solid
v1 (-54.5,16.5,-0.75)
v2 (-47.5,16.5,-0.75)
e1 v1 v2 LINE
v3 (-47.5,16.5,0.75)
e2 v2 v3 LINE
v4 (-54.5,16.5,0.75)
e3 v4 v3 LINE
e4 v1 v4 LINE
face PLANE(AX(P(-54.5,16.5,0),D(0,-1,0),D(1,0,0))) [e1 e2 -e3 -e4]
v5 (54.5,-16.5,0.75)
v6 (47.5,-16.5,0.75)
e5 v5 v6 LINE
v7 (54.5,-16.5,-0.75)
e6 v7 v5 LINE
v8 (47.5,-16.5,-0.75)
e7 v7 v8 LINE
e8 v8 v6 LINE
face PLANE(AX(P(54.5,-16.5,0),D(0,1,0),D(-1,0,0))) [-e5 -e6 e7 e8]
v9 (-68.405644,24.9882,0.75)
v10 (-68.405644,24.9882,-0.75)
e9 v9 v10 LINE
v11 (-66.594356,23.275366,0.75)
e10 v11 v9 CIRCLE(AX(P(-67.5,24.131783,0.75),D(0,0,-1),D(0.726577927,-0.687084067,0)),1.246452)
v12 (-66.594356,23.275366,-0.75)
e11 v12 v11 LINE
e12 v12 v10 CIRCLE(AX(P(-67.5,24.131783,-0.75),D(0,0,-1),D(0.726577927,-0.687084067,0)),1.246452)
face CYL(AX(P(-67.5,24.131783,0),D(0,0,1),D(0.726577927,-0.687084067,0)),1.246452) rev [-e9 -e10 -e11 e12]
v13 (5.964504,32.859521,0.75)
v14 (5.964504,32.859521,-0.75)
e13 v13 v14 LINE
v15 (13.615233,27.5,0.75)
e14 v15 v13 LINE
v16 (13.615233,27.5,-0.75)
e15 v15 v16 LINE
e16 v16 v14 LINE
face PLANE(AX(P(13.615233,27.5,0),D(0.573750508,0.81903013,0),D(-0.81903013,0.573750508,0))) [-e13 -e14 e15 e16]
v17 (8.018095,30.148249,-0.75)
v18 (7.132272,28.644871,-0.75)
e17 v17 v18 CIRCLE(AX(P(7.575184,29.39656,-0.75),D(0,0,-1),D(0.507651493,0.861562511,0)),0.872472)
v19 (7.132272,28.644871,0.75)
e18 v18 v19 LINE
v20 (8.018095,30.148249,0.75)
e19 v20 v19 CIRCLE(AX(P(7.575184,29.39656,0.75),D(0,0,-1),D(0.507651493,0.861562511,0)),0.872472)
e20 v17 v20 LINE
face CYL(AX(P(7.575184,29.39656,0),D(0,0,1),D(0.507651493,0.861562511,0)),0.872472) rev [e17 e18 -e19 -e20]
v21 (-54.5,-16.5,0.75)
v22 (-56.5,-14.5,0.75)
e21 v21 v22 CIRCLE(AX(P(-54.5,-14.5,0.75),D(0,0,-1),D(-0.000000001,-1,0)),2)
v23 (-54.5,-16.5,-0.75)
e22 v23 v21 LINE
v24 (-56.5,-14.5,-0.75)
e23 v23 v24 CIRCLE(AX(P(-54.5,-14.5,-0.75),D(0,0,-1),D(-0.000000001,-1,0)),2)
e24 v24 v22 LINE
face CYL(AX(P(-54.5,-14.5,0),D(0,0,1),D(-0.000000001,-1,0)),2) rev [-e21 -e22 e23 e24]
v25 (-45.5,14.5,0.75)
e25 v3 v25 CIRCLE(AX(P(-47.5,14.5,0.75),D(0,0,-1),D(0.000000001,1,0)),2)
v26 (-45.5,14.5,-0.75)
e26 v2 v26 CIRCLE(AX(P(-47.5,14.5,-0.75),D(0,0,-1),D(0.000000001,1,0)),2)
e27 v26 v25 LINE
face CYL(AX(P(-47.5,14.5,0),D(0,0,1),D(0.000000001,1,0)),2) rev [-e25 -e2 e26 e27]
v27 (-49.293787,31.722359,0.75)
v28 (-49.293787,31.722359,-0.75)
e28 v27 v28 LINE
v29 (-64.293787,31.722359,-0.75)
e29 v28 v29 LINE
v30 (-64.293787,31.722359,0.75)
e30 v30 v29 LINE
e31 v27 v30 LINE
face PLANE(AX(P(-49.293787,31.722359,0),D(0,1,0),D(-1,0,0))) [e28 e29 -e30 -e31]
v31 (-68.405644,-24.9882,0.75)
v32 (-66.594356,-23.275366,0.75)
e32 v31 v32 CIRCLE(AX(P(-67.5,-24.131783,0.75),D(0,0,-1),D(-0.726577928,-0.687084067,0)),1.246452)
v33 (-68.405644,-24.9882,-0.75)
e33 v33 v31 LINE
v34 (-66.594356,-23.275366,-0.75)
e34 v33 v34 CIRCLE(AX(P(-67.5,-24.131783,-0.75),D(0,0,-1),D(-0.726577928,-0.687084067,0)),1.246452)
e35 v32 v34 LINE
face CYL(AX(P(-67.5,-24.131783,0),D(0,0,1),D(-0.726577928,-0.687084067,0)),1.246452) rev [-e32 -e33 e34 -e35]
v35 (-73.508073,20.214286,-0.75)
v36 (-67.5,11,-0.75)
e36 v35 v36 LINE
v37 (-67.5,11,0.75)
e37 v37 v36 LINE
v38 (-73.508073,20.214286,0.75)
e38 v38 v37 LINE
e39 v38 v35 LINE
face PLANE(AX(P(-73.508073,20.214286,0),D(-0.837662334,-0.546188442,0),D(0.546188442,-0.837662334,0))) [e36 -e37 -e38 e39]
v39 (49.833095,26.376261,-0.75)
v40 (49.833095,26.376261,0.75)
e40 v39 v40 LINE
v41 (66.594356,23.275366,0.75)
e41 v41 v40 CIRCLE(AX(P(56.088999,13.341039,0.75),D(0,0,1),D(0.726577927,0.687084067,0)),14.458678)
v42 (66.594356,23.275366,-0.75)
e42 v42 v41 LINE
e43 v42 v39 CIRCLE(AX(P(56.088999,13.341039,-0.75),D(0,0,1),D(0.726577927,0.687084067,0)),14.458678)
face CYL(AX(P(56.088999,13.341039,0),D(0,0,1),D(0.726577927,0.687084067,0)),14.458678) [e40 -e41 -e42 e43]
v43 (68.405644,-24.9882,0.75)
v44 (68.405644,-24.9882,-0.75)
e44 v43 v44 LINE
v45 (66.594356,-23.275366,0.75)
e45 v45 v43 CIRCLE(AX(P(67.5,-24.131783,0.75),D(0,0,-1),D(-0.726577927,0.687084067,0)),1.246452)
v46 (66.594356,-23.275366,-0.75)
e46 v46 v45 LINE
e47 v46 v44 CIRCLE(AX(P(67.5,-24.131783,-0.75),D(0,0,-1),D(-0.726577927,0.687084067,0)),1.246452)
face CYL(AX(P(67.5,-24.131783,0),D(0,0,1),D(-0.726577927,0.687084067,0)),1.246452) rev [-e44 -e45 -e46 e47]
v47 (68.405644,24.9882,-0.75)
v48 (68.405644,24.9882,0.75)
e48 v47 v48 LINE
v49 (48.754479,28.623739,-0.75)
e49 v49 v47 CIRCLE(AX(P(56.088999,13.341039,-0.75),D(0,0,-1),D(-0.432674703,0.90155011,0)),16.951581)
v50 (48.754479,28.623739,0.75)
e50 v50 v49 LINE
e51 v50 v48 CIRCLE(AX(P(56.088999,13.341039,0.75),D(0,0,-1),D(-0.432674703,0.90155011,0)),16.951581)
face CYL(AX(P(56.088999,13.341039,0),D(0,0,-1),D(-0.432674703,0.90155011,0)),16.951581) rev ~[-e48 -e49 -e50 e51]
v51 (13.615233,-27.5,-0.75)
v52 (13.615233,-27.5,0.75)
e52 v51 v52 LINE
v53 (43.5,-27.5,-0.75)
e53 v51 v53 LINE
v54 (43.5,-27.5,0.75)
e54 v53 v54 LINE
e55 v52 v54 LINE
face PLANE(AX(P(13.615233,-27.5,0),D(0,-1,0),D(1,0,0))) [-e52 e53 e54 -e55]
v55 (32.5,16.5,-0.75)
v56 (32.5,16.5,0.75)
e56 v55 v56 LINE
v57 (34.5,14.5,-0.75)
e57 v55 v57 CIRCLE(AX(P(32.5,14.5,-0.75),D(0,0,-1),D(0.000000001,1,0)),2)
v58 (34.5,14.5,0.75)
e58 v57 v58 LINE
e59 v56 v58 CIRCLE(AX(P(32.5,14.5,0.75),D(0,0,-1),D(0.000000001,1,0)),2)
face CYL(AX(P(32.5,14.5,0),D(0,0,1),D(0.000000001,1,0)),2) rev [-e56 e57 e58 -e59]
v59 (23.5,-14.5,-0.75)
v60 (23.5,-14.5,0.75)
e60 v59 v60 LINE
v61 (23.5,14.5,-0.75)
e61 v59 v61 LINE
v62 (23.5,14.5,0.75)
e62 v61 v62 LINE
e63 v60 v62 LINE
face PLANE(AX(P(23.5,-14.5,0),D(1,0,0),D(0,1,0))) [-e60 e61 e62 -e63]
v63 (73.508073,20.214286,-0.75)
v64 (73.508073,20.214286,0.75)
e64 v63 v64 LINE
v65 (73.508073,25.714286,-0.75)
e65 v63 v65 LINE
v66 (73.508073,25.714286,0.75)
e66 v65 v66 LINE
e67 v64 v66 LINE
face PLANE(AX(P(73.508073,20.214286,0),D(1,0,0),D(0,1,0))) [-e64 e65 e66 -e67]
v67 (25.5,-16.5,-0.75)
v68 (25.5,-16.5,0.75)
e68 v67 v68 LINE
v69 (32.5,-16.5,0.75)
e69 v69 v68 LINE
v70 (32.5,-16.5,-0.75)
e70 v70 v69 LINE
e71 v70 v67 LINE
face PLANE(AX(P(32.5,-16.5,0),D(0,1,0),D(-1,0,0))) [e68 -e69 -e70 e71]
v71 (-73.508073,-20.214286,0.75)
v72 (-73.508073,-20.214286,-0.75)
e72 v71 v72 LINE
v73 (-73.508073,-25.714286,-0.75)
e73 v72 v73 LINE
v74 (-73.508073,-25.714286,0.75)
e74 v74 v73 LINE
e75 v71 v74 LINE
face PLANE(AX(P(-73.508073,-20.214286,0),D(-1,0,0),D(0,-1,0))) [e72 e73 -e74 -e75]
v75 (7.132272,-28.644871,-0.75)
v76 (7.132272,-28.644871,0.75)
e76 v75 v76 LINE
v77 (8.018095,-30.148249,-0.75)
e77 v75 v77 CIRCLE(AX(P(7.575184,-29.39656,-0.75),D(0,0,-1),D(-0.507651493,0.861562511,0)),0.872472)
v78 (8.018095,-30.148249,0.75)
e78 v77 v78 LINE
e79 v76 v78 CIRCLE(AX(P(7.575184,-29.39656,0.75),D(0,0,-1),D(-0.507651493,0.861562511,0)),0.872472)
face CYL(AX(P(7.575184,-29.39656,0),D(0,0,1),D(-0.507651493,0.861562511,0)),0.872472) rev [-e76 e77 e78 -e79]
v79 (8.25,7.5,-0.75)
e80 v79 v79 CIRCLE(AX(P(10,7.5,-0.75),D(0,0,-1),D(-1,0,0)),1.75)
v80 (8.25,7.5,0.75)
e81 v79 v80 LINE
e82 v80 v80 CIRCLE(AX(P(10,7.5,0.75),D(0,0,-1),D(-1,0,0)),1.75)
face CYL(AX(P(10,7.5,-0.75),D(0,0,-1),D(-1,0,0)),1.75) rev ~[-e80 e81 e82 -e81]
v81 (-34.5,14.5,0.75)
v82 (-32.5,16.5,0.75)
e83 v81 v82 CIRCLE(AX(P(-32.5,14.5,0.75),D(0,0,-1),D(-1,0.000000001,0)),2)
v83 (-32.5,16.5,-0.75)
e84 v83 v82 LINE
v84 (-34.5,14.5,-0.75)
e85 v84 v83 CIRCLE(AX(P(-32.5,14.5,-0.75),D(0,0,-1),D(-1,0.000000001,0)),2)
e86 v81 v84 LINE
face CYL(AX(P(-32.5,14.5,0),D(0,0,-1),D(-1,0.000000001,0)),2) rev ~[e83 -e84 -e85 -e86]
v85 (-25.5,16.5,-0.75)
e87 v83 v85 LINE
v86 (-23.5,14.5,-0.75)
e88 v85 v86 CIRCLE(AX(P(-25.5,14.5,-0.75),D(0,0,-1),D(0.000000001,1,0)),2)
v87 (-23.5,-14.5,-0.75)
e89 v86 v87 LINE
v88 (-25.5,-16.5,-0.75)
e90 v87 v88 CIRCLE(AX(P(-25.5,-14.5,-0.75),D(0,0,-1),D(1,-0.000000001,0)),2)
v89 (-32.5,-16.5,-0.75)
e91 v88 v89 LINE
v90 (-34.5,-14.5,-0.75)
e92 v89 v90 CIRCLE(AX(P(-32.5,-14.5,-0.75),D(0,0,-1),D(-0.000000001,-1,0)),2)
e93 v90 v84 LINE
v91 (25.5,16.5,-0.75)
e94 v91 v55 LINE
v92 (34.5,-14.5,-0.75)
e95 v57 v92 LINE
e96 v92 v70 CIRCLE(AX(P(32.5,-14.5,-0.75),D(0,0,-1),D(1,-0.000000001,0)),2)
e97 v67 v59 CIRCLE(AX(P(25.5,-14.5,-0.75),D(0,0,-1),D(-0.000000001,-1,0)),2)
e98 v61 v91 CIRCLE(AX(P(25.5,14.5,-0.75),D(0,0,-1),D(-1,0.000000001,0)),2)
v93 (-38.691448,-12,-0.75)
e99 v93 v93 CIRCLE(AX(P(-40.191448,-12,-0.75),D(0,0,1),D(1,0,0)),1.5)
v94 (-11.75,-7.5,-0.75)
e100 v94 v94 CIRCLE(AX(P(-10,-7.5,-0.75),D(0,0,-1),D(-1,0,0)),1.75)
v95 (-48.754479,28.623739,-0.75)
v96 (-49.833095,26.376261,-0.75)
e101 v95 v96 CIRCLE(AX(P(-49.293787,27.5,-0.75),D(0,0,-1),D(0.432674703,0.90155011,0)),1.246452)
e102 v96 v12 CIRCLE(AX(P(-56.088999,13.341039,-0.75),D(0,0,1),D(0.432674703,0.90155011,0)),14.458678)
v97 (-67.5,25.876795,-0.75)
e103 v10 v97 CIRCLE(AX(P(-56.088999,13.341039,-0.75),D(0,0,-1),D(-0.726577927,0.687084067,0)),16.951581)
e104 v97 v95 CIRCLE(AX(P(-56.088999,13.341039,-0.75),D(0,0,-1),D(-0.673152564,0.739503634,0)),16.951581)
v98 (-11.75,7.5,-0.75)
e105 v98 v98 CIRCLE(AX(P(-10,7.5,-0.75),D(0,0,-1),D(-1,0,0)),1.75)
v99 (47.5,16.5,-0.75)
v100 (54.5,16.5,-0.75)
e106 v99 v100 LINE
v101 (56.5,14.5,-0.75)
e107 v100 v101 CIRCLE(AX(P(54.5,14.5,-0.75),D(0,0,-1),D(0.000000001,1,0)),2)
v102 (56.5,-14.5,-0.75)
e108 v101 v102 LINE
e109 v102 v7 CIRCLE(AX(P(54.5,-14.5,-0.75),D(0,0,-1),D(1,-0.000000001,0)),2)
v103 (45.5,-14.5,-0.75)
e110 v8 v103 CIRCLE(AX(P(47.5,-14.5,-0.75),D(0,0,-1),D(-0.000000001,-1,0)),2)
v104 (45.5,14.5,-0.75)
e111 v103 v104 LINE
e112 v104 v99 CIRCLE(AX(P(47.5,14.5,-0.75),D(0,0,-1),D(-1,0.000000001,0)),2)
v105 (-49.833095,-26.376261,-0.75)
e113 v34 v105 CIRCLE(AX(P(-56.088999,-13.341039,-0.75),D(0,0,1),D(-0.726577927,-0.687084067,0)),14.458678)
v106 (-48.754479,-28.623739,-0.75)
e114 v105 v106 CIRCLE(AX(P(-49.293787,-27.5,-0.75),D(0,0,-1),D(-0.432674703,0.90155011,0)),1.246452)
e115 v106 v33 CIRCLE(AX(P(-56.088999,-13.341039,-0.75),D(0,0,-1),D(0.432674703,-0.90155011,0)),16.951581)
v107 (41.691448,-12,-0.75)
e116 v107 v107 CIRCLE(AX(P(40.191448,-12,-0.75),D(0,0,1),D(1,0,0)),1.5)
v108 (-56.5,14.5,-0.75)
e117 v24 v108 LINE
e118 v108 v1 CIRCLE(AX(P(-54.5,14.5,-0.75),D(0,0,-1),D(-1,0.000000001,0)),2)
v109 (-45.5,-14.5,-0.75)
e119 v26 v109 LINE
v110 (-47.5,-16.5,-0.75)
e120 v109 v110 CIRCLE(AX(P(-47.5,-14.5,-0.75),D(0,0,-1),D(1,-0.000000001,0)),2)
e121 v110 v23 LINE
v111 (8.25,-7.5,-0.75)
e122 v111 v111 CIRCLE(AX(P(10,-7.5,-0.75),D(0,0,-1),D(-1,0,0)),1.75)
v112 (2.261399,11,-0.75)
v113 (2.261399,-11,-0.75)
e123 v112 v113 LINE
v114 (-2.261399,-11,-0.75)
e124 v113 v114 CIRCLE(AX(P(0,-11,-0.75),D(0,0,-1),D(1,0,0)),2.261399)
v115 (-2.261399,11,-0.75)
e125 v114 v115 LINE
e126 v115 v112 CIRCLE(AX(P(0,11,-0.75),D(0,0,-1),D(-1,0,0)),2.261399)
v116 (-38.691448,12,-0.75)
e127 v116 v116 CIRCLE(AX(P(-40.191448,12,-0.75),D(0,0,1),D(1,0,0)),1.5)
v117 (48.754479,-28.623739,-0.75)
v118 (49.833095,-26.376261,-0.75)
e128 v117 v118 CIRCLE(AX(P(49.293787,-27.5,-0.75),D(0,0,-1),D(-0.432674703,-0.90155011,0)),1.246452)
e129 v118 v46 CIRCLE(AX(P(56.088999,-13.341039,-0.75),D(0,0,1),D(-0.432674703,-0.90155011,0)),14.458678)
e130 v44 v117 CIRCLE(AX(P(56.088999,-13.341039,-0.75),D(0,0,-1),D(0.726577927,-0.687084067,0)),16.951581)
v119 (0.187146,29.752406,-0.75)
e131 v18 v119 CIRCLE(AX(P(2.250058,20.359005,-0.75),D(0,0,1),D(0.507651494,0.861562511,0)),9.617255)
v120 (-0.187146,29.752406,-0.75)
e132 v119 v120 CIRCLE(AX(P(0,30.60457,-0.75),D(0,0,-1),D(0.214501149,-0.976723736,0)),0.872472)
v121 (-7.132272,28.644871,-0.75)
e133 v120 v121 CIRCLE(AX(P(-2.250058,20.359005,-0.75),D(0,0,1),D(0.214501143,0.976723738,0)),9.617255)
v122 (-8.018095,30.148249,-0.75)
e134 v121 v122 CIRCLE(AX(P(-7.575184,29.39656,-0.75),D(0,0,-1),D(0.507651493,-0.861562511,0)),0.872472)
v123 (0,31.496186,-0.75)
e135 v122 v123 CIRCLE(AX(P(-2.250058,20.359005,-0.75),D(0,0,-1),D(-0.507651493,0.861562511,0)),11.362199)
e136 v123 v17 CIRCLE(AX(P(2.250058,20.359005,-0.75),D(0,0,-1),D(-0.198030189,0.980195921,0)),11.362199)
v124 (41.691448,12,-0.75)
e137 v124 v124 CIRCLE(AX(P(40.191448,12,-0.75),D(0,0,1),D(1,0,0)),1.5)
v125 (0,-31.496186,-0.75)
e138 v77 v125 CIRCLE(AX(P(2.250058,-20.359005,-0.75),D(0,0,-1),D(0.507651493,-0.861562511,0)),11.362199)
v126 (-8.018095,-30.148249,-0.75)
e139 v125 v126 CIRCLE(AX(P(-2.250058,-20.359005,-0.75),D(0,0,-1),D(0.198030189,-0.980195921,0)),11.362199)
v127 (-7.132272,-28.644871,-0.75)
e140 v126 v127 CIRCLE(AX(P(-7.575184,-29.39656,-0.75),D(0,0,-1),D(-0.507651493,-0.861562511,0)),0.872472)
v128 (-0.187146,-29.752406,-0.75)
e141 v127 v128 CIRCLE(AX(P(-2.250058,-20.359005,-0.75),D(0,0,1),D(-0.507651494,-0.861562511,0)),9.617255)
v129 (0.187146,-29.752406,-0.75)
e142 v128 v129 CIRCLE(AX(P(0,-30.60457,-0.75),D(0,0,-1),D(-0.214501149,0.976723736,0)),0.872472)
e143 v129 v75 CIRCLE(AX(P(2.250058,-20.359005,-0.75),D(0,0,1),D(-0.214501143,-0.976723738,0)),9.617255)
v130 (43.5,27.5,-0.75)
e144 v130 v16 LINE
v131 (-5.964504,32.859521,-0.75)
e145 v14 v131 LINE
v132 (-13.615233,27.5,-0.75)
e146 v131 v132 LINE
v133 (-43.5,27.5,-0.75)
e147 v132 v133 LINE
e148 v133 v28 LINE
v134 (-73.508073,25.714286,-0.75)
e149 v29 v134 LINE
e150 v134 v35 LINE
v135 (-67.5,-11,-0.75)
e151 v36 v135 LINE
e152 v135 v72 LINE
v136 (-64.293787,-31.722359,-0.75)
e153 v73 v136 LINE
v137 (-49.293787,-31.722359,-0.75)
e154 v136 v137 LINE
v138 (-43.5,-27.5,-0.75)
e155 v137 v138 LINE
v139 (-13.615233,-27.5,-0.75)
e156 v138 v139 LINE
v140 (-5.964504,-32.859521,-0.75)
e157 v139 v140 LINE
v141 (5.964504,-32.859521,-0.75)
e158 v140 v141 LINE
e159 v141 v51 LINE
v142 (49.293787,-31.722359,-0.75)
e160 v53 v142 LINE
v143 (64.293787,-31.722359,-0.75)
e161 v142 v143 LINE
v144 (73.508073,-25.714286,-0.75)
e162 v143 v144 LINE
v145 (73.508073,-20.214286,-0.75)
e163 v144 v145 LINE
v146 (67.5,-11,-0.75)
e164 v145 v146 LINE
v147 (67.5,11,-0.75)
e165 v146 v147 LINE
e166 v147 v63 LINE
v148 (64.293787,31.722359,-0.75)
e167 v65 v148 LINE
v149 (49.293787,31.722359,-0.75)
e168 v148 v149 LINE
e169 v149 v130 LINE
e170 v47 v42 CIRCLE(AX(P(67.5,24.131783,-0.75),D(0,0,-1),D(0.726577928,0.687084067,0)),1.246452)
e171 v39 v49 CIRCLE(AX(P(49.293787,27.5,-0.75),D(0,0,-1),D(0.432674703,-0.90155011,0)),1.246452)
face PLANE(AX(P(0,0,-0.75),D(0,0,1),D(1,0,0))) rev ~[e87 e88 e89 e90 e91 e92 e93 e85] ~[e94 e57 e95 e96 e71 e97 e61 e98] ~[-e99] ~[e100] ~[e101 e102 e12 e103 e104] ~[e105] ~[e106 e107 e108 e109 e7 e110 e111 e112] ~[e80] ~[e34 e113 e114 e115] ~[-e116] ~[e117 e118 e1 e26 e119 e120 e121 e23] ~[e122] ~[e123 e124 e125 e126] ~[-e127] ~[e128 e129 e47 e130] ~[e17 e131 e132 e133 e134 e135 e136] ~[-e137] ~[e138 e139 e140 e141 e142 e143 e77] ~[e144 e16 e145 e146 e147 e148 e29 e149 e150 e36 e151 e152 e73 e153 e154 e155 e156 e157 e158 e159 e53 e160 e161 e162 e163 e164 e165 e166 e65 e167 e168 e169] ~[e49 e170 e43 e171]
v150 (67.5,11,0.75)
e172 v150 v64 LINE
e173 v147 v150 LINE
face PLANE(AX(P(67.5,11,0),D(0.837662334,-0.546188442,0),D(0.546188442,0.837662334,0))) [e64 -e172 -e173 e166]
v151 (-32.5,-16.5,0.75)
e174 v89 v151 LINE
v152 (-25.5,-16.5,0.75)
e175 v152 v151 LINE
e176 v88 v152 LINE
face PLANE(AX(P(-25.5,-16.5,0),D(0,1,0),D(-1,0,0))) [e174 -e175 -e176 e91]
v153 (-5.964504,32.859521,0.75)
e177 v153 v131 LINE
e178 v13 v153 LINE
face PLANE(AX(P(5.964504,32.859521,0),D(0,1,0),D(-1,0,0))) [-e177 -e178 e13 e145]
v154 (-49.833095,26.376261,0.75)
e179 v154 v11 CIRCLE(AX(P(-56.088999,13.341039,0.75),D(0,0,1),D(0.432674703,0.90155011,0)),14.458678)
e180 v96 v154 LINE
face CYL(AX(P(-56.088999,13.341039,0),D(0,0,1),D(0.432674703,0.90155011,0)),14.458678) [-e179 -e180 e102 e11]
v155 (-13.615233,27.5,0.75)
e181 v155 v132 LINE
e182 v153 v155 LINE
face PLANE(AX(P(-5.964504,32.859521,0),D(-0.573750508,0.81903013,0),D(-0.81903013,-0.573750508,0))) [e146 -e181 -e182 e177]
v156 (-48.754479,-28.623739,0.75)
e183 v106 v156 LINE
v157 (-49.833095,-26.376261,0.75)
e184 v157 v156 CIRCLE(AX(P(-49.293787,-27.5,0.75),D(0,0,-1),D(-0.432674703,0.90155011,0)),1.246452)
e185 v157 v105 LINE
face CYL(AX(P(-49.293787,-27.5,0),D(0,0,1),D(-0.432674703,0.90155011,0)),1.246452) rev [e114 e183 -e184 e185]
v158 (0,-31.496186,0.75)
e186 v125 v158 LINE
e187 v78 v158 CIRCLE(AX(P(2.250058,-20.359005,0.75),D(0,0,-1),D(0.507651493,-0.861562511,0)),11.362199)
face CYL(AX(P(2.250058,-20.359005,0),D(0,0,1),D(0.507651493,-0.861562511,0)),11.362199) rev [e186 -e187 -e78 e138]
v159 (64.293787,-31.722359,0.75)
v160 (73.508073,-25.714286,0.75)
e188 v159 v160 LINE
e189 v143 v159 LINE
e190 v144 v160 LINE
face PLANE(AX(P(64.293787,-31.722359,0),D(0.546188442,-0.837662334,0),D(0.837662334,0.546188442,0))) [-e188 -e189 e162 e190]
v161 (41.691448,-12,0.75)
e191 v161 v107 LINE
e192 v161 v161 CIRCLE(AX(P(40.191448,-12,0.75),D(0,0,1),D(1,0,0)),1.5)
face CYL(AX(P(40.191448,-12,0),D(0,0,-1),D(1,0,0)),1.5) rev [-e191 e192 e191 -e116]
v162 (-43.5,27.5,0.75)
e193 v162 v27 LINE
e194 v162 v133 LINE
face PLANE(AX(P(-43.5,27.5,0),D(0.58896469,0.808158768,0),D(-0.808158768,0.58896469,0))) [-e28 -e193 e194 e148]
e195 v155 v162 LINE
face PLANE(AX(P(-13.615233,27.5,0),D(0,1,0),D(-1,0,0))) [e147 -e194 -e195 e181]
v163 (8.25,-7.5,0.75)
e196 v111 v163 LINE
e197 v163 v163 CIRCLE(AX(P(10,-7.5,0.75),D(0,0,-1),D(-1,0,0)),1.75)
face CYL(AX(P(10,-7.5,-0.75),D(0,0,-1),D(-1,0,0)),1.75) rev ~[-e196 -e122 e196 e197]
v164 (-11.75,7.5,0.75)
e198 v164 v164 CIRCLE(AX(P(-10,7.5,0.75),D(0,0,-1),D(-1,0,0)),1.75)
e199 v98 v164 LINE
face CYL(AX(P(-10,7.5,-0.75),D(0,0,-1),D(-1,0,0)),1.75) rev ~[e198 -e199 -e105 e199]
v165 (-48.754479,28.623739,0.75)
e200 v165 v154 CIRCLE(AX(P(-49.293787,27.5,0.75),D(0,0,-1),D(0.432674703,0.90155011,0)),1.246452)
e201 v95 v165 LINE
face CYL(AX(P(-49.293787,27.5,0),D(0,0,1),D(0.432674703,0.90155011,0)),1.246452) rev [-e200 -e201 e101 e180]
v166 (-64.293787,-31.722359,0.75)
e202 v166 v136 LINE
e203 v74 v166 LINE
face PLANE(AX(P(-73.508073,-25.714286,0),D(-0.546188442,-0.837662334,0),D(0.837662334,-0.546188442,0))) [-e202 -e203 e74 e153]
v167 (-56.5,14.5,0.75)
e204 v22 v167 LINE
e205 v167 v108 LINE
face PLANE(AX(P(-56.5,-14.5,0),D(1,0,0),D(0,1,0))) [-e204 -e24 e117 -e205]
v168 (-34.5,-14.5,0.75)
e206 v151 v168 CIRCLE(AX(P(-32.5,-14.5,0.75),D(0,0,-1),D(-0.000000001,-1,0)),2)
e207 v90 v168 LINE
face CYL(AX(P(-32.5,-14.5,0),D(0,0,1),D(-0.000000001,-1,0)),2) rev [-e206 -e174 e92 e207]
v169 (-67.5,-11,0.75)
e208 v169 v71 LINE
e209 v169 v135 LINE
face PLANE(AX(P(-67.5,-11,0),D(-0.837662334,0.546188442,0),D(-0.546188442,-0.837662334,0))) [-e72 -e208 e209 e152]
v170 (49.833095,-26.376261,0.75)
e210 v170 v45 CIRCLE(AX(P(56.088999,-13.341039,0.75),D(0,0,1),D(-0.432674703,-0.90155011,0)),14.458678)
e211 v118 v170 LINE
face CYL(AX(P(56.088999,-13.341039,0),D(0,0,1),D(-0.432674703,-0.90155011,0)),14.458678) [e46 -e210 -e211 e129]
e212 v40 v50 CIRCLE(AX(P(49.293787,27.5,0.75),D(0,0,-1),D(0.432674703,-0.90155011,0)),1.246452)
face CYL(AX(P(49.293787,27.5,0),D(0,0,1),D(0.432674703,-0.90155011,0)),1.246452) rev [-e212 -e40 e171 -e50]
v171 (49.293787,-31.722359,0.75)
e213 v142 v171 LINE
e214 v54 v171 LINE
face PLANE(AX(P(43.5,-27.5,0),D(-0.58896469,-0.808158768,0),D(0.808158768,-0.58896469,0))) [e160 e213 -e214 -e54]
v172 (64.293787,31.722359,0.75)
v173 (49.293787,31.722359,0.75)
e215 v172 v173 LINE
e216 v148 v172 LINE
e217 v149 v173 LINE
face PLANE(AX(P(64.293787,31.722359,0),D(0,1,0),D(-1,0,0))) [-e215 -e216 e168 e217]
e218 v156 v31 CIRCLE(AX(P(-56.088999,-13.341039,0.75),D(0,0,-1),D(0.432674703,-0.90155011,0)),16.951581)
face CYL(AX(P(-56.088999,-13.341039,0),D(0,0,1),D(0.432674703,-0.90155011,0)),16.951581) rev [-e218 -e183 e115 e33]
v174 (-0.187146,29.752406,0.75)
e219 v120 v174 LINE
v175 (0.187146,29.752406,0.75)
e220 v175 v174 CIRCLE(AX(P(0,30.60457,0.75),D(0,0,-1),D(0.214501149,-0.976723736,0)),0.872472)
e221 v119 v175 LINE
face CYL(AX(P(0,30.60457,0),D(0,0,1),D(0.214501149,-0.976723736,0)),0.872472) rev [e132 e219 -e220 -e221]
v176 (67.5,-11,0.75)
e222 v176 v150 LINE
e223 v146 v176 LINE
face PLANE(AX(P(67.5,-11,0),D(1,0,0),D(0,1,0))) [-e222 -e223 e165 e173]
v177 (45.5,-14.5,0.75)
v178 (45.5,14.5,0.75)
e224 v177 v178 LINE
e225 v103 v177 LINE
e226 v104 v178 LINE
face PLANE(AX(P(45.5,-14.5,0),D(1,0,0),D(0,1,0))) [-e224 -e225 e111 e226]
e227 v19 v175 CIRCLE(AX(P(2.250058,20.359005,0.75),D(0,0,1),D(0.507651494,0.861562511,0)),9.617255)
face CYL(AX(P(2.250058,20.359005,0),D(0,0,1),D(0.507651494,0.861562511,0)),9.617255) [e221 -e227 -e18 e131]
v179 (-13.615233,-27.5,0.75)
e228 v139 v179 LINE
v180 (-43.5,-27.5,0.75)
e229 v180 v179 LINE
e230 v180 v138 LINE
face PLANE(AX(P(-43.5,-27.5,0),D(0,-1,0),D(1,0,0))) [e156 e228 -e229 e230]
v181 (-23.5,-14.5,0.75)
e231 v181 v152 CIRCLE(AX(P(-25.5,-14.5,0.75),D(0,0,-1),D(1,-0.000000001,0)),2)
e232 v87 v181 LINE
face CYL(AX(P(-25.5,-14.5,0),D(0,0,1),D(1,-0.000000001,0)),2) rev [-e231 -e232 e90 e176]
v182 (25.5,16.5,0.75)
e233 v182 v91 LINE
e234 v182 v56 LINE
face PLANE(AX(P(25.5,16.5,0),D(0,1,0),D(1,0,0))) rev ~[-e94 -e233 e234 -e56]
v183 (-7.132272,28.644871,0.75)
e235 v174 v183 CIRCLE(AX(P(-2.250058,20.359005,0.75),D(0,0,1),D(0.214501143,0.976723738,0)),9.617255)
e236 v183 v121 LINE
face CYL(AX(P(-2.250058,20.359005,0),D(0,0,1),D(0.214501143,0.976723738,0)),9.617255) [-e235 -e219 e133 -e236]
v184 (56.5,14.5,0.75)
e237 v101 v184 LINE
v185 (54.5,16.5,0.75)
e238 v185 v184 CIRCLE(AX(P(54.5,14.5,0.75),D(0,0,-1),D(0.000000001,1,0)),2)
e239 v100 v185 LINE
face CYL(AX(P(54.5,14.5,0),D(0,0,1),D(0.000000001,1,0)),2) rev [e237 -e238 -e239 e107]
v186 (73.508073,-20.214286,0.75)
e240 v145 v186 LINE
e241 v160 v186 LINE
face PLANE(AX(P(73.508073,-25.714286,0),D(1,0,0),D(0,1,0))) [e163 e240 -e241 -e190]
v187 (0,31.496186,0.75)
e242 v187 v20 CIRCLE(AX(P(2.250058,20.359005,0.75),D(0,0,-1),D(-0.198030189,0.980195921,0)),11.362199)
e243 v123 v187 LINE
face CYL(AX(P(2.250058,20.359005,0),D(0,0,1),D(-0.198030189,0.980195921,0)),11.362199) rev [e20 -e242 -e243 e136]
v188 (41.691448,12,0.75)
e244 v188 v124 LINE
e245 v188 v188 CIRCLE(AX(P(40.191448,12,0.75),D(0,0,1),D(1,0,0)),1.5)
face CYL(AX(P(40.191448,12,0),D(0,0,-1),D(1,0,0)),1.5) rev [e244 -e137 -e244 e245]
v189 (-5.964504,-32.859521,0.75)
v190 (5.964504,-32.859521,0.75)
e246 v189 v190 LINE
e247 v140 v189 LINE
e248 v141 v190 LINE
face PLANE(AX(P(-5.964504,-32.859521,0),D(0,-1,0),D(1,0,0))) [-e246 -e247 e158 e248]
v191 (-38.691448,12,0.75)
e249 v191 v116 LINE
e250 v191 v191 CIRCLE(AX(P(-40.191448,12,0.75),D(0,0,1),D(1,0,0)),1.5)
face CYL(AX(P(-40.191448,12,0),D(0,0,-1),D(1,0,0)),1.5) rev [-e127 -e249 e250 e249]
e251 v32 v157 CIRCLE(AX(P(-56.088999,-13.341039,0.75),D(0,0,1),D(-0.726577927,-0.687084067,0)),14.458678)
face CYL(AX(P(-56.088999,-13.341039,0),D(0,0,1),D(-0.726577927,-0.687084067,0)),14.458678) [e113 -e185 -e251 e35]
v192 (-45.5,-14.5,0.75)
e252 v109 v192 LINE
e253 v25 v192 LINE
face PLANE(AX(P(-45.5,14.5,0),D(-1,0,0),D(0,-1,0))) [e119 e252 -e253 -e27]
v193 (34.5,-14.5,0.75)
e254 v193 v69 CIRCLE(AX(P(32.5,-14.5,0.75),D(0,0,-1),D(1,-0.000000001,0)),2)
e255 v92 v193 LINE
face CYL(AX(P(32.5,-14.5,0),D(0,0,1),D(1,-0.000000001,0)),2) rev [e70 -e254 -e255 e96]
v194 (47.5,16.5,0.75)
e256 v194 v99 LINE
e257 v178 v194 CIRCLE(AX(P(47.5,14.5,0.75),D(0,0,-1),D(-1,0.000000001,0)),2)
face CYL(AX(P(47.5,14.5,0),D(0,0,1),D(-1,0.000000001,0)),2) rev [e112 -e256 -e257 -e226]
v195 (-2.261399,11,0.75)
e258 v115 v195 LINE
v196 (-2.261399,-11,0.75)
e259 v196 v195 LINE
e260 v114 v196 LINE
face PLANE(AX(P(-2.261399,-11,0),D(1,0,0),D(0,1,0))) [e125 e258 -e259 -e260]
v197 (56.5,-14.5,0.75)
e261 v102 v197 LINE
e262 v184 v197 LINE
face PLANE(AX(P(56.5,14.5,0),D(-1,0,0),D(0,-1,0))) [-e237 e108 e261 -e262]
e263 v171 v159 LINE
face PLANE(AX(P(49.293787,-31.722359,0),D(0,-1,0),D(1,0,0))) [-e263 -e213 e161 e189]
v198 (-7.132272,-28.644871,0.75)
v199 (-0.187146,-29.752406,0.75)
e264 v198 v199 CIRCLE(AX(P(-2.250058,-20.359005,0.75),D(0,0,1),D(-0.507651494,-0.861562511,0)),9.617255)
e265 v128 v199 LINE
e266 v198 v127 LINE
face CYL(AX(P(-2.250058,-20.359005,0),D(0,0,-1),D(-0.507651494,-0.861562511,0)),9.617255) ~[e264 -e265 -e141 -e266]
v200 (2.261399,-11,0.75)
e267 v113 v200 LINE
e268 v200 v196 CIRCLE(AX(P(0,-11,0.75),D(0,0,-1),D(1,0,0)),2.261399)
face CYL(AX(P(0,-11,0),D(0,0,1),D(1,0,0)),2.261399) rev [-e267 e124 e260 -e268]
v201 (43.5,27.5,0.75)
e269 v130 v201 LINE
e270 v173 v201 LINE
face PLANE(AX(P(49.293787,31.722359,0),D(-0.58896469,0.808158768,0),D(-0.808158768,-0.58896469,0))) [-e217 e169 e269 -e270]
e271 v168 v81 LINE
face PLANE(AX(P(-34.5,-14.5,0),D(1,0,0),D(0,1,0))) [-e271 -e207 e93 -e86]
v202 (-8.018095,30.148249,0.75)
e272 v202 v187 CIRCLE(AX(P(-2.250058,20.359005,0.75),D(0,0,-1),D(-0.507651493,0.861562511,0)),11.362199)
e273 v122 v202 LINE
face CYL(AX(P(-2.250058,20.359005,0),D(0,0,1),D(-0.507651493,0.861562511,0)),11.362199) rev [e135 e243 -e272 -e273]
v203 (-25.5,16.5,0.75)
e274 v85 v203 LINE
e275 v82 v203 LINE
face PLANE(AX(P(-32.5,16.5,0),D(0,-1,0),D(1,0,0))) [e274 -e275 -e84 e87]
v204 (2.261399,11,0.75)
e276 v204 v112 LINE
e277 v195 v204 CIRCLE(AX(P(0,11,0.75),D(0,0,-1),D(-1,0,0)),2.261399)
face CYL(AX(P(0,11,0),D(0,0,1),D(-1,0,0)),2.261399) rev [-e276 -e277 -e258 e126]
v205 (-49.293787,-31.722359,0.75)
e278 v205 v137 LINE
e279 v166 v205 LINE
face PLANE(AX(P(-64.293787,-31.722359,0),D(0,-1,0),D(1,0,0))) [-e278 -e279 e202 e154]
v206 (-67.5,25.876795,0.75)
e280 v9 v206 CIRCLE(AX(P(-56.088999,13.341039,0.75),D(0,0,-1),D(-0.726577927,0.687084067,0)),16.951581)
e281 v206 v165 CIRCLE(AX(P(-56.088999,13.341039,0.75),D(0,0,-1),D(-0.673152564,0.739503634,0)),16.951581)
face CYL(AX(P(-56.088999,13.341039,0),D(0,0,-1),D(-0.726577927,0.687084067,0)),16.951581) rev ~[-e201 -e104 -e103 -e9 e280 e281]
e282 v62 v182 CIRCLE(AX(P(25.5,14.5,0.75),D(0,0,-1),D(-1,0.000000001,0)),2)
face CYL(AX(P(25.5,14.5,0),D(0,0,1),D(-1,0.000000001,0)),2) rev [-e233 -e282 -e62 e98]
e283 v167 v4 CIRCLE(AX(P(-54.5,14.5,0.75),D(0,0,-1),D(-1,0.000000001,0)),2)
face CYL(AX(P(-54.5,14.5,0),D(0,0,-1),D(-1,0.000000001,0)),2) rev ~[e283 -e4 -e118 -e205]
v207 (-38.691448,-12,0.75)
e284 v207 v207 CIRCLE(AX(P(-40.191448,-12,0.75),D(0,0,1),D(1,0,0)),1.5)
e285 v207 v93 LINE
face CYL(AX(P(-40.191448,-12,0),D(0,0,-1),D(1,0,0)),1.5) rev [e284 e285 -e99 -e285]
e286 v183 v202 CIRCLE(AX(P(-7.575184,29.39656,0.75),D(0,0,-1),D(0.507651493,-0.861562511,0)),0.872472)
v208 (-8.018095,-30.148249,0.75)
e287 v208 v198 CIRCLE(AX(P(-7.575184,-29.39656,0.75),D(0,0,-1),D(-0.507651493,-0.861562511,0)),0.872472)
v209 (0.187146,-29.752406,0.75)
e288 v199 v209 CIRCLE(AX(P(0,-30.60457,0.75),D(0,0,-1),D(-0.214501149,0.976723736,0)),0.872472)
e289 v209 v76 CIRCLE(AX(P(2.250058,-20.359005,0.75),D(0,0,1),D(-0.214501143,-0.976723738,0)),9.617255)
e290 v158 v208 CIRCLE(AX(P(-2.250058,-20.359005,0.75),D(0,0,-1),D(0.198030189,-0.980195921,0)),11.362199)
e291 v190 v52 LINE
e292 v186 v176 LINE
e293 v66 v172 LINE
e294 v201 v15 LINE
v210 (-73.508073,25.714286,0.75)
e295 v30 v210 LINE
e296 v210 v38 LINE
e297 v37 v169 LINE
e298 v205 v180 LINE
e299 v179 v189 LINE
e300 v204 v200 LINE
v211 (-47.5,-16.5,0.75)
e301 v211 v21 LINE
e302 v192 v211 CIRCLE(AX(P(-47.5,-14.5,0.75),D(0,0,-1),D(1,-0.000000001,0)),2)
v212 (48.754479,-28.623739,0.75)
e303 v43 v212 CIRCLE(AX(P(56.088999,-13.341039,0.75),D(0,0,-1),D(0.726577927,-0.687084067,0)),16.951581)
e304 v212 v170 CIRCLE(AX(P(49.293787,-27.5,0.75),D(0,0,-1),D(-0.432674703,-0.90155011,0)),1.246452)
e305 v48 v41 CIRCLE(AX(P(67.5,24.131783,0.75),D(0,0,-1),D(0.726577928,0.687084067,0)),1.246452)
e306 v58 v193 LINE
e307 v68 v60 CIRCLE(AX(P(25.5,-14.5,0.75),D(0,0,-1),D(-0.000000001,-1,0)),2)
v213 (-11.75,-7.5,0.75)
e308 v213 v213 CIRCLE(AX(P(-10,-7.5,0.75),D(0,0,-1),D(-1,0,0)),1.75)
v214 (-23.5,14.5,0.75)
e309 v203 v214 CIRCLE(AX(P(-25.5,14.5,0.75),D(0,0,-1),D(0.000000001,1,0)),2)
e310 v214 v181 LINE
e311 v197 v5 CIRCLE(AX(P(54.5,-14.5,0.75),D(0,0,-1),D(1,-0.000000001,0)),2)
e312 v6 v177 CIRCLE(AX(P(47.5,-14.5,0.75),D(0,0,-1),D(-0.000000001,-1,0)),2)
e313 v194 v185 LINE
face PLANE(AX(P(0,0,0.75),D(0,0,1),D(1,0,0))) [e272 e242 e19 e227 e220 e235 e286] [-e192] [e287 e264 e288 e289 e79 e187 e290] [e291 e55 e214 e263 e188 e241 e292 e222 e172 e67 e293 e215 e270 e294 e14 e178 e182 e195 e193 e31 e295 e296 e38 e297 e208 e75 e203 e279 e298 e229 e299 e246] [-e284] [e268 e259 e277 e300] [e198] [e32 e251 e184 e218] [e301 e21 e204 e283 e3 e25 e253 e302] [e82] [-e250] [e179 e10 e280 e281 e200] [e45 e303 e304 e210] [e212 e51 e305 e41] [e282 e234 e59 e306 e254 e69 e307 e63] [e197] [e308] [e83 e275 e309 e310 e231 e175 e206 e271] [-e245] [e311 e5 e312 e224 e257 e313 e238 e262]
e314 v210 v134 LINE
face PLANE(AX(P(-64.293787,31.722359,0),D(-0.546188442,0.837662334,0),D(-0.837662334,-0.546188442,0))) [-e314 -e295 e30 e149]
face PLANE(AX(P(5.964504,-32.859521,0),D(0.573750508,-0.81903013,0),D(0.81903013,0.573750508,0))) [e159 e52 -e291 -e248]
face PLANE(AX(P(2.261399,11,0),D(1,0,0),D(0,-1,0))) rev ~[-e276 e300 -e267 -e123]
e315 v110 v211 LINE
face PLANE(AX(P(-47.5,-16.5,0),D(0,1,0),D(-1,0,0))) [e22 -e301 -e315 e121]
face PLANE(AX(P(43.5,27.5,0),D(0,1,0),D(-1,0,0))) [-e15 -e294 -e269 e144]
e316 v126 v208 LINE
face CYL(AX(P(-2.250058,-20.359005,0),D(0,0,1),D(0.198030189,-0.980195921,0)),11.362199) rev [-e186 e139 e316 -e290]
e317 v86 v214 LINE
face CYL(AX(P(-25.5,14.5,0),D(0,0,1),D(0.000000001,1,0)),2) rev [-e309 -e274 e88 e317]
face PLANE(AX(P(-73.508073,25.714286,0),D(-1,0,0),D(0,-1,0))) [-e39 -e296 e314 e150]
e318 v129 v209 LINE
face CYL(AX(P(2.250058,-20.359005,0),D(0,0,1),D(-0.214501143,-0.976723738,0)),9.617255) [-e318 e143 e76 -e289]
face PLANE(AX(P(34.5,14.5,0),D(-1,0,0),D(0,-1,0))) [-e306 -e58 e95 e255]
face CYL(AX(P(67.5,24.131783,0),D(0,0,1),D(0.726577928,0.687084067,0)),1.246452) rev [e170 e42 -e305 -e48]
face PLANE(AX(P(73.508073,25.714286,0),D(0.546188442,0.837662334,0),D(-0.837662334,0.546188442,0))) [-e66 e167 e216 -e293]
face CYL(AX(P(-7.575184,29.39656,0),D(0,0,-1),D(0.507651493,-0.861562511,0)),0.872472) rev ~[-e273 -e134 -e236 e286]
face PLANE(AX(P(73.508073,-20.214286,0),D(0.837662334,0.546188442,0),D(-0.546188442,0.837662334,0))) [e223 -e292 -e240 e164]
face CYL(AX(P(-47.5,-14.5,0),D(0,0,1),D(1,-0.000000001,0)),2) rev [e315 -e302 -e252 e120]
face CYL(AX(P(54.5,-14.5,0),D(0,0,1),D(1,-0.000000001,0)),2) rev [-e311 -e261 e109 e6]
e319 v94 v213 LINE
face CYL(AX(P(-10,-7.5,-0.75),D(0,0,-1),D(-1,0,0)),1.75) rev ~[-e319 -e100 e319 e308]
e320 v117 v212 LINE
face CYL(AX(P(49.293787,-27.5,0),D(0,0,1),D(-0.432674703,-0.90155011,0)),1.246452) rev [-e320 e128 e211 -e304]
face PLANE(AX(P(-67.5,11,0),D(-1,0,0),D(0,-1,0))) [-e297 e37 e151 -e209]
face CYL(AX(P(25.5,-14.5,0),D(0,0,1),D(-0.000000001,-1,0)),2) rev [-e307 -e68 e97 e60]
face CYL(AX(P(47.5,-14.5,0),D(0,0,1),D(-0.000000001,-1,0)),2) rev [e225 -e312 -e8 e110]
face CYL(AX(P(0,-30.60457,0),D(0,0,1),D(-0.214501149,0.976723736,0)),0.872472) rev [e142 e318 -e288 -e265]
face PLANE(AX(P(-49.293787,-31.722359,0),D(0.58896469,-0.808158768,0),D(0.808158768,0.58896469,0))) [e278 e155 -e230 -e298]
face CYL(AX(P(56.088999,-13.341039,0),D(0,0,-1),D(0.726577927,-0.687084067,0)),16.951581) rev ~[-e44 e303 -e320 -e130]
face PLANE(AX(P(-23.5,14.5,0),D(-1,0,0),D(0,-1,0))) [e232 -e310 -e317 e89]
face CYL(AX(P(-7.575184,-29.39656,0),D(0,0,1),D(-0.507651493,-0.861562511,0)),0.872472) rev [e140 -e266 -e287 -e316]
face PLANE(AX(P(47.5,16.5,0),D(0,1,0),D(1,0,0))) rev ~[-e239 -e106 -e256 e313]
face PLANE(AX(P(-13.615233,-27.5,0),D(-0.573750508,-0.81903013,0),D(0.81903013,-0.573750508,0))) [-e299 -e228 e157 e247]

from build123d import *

# Parameters (mm, degrees)
SCHIZZO1_R                   = 1.5
ESTRUSIONE_ESTRUSIONE1_DEPTH = 0.75
SKETCH1_R                    = 1.75
CUT_EXTRUDE1_DEPTH           = 1
CUT_EXTRUDE1_DEPTH_BACK      = 2.5


with BuildPart() as part:
    # Schizzo1 → Estrusione-Estrusione1 (new body, symmetric)
    with BuildSketch(Plane.XY):
        Polygon((-43.5, -27.5), (-13.615232638, -27.5), (-5.964504028, -32.859521299), (5.964504028, -32.859521299), (13.615232638, -27.5), (43.5, -27.5), (49.293787181, -31.722358535), (64.293787181, -31.722358535), (73.508072858, -25.714285677), (73.508072858, -20.214285677), (67.5, -11), (67.5, 11), (73.508072858, 20.214285677), (73.508072858, 25.714285677), (64.293787181, 31.722358535), (49.293787181, 31.722358535), (43.5, 27.5), (13.615232638, 27.5), (5.964504028, 32.859521299), (-5.964504028, 32.859521299), (-13.615232638, 27.5), (-43.5, 27.5), (-49.293787181, 31.722358535), (-64.293787181, 31.722358535), (-73.508072858, 25.714285677), (-73.508072858, 20.214285677), (-67.5, 11), (-67.5, -11), (-73.508072858, -20.214285677), (-73.508072858, -25.714285677), (-64.293787181, -31.722358535), (-49.293787181, -31.722358535), align=None)
        with BuildLine():
            ThreePointArc((-48.754479002, -28.623738791), (-59.172775767, -30.009764998), (-68.405644393, -24.988200197))
            ThreePointArc((-68.405644393, -24.988200197), (-68.356417198, -23.226138607), (-66.594355607, -23.275365801))
            ThreePointArc((-66.594355607, -23.275365801), (-58.719274878, -27.558458065), (-49.83309536, -26.376261209))
            ThreePointArc((-49.83309536, -26.376261209), (-48.17004839, -26.960691821), (-48.754479002, -28.623738791))
        make_face(mode=Mode.SUBTRACT)
        with Locations((-40.191447808, -12)):
            Circle(SCHIZZO1_R, mode=Mode.SUBTRACT)
        with BuildLine():
            ThreePointArc((0, -31.496185519), (-4.133745369, -31.563971562), (-8.018095478, -30.148249145))
            ThreePointArc((-8.018095478, -30.148249145), (-8.326872952, -28.953648185), (-7.132271992, -28.644870711))
            ThreePointArc((-7.132271992, -28.644870711), (-3.764579281, -29.856257566), (-0.187146253, -29.75240554))
            ThreePointArc((-0.187146253, -29.75240554), (0, -29.732097651), (0.187146253, -29.75240554))
            ThreePointArc((0.187146253, -29.75240554), (3.764579281, -29.856257566), (7.132271992, -28.644870711))
            ThreePointArc((7.132271992, -28.644870711), (8.326872952, -28.953648185), (8.018095478, -30.148249145))
            ThreePointArc((8.018095478, -30.148249145), (4.133745369, -31.563971562), (0, -31.496185519))
        make_face(mode=Mode.SUBTRACT)
        with BuildLine():
            ThreePointArc((66.594355607, -23.275365801), (68.356417198, -23.226138607), (68.405644393, -24.988200197))
            ThreePointArc((68.405644393, -24.988200197), (59.172775767, -30.009764998), (48.754479002, -28.623738791))
            ThreePointArc((48.754479002, -28.623738791), (48.17004839, -26.960691821), (49.83309536, -26.376261209))
            ThreePointArc((49.83309536, -26.376261209), (58.719274878, -27.558458065), (66.594355607, -23.275365801))
        make_face(mode=Mode.SUBTRACT)
        with Locations((40.191447808, -12)):
            Circle(SCHIZZO1_R, mode=Mode.SUBTRACT)
        with BuildLine():
            Line((-47.5, -16.5), (-54.5, -16.5))
            ThreePointArc((-54.5, -16.5), (-55.914213562, -15.914213562), (-56.5, -14.5))
            Line((-56.5, -14.5), (-56.5, 14.5))
            ThreePointArc((-56.5, 14.5), (-55.914213562, 15.914213562), (-54.5, 16.5))
            Line((-54.5, 16.5), (-47.5, 16.5))
            ThreePointArc((-47.5, 16.5), (-46.085786438, 15.914213562), (-45.5, 14.5))
            Line((-45.5, 14.5), (-45.5, -14.5))
            ThreePointArc((-45.5, -14.5), (-46.085786438, -15.914213562), (-47.5, -16.5))
        make_face(mode=Mode.SUBTRACT)
        with Locations((-40.191447808, 12)):
            Circle(SCHIZZO1_R, mode=Mode.SUBTRACT)
        with BuildLine():
            Line((-25.5, -16.5), (-32.5, -16.5))
            ThreePointArc((-32.5, -16.5), (-33.914213562, -15.914213562), (-34.5, -14.5))
            Line((-34.5, -14.5), (-34.5, 14.5))
            ThreePointArc((-34.5, 14.5), (-33.914213562, 15.914213562), (-32.5, 16.5))
            Line((-32.5, 16.5), (-25.5, 16.5))
            ThreePointArc((-25.5, 16.5), (-24.085786438, 15.914213562), (-23.5, 14.5))
            Line((-23.5, 14.5), (-23.5, -14.5))
            ThreePointArc((-23.5, -14.5), (-24.085786438, -15.914213562), (-25.5, -16.5))
        make_face(mode=Mode.SUBTRACT)
        with BuildLine():
            ThreePointArc((-2.261398956, 11), (0, 13.261398956), (2.261398956, 11))
            Line((2.261398956, 11), (2.261398956, -11))
            ThreePointArc((2.261398956, -11), (0, -13.261398956), (-2.261398956, -11))
            Line((-2.261398956, -11), (-2.261398956, 11))
        make_face(mode=Mode.SUBTRACT)
        with BuildLine():
            ThreePointArc((-66.594355607, 23.275365801), (-68.356417198, 23.226138607), (-68.405644393, 24.988200197))
            ThreePointArc((-68.405644393, 24.988200197), (-67.961138694, 25.440973547), (-67.5, 25.876794757))
            ThreePointArc((-67.5, 25.876794757), (-58.546813094, 30.113494239), (-48.754479002, 28.623738791))
            ThreePointArc((-48.754479002, 28.623738791), (-48.17004839, 26.960691821), (-49.83309536, 26.376261209))
            ThreePointArc((-49.83309536, 26.376261209), (-58.719274878, 27.558458065), (-66.594355607, 23.275365801))
        make_face(mode=Mode.SUBTRACT)
        with BuildLine():
            ThreePointArc((25.5, -16.5), (24.085786438, -15.914213562), (23.5, -14.5))
            Line((23.5, -14.5), (23.5, 14.5))
            ThreePointArc((23.5, 14.5), (24.085786438, 15.914213562), (25.5, 16.5))
            Line((25.5, 16.5), (32.5, 16.5))
            ThreePointArc((32.5, 16.5), (33.914213562, 15.914213562), (34.5, 14.5))
            Line((34.5, 14.5), (34.5, -14.5))
            ThreePointArc((34.5, -14.5), (33.914213562, -15.914213562), (32.5, -16.5))
            Line((32.5, -16.5), (25.5, -16.5))
        make_face(mode=Mode.SUBTRACT)
        with BuildLine():
            ThreePointArc((47.5, -16.5), (46.085786438, -15.914213562), (45.5, -14.5))
            Line((45.5, -14.5), (45.5, 14.5))
            ThreePointArc((45.5, 14.5), (46.085786438, 15.914213562), (47.5, 16.5))
            Line((47.5, 16.5), (54.5, 16.5))
            ThreePointArc((54.5, 16.5), (55.914213562, 15.914213562), (56.5, 14.5))
            Line((56.5, 14.5), (56.5, -14.5))
            ThreePointArc((56.5, -14.5), (55.914213562, -15.914213562), (54.5, -16.5))
            Line((54.5, -16.5), (47.5, -16.5))
        make_face(mode=Mode.SUBTRACT)
        with Locations((40.191447808, 12)):
            Circle(SCHIZZO1_R, mode=Mode.SUBTRACT)
        with BuildLine():
            ThreePointArc((0.187146253, 29.75240554), (0, 29.732097651), (-0.187146253, 29.75240554))
            ThreePointArc((-0.187146253, 29.75240554), (-3.764579281, 29.856257566), (-7.132271992, 28.644870711))
            ThreePointArc((-7.132271992, 28.644870711), (-8.326872952, 28.953648185), (-8.018095478, 30.148249145))
            ThreePointArc((-8.018095478, 30.148249145), (-4.133745369, 31.563971562), (0, 31.496185519))
            ThreePointArc((0, 31.496185519), (4.133745369, 31.563971562), (8.018095478, 30.148249145))
            ThreePointArc((8.018095478, 30.148249145), (8.326872952, 28.953648185), (7.132271992, 28.644870711))
            ThreePointArc((7.132271992, 28.644870711), (3.764579281, 29.856257566), (0.187146253, 29.75240554))
        make_face(mode=Mode.SUBTRACT)
        with BuildLine():
            ThreePointArc((48.754479002, 28.623738791), (59.172775767, 30.009764998), (68.405644393, 24.988200197))
            ThreePointArc((68.405644393, 24.988200197), (68.356417198, 23.226138607), (66.594355607, 23.275365801))
            ThreePointArc((66.594355607, 23.275365801), (58.719274878, 27.558458065), (49.83309536, 26.376261209))
            ThreePointArc((49.83309536, 26.376261209), (48.17004839, 26.960691821), (48.754479002, 28.623738791))
        make_face(mode=Mode.SUBTRACT)
    extrude(amount=ESTRUSIONE_ESTRUSIONE1_DEPTH, both=True)

    # Sketch1 → Cut-Extrude1 (cut, two sides)
    with BuildSketch(Plane(origin=(0, 0, -0.75), x_dir=(-1, 0, 0), z_dir=(0, 0, -1))) as cut_extrude1_sk:
        with Locations((-10, 7.5)):
            Circle(SKETCH1_R)
        with Locations((-10, -7.5)):
            Circle(SKETCH1_R)
        with Locations((10, -7.5)):
            Circle(SKETCH1_R)
        with Locations((10, 7.5)):
            Circle(SKETCH1_R)
    extrude(amount=CUT_EXTRUDE1_DEPTH, mode=Mode.SUBTRACT)
    extrude(cut_extrude1_sk.sketch, amount=-CUT_EXTRUDE1_DEPTH_BACK, mode=Mode.SUBTRACT)


solid = part.part
